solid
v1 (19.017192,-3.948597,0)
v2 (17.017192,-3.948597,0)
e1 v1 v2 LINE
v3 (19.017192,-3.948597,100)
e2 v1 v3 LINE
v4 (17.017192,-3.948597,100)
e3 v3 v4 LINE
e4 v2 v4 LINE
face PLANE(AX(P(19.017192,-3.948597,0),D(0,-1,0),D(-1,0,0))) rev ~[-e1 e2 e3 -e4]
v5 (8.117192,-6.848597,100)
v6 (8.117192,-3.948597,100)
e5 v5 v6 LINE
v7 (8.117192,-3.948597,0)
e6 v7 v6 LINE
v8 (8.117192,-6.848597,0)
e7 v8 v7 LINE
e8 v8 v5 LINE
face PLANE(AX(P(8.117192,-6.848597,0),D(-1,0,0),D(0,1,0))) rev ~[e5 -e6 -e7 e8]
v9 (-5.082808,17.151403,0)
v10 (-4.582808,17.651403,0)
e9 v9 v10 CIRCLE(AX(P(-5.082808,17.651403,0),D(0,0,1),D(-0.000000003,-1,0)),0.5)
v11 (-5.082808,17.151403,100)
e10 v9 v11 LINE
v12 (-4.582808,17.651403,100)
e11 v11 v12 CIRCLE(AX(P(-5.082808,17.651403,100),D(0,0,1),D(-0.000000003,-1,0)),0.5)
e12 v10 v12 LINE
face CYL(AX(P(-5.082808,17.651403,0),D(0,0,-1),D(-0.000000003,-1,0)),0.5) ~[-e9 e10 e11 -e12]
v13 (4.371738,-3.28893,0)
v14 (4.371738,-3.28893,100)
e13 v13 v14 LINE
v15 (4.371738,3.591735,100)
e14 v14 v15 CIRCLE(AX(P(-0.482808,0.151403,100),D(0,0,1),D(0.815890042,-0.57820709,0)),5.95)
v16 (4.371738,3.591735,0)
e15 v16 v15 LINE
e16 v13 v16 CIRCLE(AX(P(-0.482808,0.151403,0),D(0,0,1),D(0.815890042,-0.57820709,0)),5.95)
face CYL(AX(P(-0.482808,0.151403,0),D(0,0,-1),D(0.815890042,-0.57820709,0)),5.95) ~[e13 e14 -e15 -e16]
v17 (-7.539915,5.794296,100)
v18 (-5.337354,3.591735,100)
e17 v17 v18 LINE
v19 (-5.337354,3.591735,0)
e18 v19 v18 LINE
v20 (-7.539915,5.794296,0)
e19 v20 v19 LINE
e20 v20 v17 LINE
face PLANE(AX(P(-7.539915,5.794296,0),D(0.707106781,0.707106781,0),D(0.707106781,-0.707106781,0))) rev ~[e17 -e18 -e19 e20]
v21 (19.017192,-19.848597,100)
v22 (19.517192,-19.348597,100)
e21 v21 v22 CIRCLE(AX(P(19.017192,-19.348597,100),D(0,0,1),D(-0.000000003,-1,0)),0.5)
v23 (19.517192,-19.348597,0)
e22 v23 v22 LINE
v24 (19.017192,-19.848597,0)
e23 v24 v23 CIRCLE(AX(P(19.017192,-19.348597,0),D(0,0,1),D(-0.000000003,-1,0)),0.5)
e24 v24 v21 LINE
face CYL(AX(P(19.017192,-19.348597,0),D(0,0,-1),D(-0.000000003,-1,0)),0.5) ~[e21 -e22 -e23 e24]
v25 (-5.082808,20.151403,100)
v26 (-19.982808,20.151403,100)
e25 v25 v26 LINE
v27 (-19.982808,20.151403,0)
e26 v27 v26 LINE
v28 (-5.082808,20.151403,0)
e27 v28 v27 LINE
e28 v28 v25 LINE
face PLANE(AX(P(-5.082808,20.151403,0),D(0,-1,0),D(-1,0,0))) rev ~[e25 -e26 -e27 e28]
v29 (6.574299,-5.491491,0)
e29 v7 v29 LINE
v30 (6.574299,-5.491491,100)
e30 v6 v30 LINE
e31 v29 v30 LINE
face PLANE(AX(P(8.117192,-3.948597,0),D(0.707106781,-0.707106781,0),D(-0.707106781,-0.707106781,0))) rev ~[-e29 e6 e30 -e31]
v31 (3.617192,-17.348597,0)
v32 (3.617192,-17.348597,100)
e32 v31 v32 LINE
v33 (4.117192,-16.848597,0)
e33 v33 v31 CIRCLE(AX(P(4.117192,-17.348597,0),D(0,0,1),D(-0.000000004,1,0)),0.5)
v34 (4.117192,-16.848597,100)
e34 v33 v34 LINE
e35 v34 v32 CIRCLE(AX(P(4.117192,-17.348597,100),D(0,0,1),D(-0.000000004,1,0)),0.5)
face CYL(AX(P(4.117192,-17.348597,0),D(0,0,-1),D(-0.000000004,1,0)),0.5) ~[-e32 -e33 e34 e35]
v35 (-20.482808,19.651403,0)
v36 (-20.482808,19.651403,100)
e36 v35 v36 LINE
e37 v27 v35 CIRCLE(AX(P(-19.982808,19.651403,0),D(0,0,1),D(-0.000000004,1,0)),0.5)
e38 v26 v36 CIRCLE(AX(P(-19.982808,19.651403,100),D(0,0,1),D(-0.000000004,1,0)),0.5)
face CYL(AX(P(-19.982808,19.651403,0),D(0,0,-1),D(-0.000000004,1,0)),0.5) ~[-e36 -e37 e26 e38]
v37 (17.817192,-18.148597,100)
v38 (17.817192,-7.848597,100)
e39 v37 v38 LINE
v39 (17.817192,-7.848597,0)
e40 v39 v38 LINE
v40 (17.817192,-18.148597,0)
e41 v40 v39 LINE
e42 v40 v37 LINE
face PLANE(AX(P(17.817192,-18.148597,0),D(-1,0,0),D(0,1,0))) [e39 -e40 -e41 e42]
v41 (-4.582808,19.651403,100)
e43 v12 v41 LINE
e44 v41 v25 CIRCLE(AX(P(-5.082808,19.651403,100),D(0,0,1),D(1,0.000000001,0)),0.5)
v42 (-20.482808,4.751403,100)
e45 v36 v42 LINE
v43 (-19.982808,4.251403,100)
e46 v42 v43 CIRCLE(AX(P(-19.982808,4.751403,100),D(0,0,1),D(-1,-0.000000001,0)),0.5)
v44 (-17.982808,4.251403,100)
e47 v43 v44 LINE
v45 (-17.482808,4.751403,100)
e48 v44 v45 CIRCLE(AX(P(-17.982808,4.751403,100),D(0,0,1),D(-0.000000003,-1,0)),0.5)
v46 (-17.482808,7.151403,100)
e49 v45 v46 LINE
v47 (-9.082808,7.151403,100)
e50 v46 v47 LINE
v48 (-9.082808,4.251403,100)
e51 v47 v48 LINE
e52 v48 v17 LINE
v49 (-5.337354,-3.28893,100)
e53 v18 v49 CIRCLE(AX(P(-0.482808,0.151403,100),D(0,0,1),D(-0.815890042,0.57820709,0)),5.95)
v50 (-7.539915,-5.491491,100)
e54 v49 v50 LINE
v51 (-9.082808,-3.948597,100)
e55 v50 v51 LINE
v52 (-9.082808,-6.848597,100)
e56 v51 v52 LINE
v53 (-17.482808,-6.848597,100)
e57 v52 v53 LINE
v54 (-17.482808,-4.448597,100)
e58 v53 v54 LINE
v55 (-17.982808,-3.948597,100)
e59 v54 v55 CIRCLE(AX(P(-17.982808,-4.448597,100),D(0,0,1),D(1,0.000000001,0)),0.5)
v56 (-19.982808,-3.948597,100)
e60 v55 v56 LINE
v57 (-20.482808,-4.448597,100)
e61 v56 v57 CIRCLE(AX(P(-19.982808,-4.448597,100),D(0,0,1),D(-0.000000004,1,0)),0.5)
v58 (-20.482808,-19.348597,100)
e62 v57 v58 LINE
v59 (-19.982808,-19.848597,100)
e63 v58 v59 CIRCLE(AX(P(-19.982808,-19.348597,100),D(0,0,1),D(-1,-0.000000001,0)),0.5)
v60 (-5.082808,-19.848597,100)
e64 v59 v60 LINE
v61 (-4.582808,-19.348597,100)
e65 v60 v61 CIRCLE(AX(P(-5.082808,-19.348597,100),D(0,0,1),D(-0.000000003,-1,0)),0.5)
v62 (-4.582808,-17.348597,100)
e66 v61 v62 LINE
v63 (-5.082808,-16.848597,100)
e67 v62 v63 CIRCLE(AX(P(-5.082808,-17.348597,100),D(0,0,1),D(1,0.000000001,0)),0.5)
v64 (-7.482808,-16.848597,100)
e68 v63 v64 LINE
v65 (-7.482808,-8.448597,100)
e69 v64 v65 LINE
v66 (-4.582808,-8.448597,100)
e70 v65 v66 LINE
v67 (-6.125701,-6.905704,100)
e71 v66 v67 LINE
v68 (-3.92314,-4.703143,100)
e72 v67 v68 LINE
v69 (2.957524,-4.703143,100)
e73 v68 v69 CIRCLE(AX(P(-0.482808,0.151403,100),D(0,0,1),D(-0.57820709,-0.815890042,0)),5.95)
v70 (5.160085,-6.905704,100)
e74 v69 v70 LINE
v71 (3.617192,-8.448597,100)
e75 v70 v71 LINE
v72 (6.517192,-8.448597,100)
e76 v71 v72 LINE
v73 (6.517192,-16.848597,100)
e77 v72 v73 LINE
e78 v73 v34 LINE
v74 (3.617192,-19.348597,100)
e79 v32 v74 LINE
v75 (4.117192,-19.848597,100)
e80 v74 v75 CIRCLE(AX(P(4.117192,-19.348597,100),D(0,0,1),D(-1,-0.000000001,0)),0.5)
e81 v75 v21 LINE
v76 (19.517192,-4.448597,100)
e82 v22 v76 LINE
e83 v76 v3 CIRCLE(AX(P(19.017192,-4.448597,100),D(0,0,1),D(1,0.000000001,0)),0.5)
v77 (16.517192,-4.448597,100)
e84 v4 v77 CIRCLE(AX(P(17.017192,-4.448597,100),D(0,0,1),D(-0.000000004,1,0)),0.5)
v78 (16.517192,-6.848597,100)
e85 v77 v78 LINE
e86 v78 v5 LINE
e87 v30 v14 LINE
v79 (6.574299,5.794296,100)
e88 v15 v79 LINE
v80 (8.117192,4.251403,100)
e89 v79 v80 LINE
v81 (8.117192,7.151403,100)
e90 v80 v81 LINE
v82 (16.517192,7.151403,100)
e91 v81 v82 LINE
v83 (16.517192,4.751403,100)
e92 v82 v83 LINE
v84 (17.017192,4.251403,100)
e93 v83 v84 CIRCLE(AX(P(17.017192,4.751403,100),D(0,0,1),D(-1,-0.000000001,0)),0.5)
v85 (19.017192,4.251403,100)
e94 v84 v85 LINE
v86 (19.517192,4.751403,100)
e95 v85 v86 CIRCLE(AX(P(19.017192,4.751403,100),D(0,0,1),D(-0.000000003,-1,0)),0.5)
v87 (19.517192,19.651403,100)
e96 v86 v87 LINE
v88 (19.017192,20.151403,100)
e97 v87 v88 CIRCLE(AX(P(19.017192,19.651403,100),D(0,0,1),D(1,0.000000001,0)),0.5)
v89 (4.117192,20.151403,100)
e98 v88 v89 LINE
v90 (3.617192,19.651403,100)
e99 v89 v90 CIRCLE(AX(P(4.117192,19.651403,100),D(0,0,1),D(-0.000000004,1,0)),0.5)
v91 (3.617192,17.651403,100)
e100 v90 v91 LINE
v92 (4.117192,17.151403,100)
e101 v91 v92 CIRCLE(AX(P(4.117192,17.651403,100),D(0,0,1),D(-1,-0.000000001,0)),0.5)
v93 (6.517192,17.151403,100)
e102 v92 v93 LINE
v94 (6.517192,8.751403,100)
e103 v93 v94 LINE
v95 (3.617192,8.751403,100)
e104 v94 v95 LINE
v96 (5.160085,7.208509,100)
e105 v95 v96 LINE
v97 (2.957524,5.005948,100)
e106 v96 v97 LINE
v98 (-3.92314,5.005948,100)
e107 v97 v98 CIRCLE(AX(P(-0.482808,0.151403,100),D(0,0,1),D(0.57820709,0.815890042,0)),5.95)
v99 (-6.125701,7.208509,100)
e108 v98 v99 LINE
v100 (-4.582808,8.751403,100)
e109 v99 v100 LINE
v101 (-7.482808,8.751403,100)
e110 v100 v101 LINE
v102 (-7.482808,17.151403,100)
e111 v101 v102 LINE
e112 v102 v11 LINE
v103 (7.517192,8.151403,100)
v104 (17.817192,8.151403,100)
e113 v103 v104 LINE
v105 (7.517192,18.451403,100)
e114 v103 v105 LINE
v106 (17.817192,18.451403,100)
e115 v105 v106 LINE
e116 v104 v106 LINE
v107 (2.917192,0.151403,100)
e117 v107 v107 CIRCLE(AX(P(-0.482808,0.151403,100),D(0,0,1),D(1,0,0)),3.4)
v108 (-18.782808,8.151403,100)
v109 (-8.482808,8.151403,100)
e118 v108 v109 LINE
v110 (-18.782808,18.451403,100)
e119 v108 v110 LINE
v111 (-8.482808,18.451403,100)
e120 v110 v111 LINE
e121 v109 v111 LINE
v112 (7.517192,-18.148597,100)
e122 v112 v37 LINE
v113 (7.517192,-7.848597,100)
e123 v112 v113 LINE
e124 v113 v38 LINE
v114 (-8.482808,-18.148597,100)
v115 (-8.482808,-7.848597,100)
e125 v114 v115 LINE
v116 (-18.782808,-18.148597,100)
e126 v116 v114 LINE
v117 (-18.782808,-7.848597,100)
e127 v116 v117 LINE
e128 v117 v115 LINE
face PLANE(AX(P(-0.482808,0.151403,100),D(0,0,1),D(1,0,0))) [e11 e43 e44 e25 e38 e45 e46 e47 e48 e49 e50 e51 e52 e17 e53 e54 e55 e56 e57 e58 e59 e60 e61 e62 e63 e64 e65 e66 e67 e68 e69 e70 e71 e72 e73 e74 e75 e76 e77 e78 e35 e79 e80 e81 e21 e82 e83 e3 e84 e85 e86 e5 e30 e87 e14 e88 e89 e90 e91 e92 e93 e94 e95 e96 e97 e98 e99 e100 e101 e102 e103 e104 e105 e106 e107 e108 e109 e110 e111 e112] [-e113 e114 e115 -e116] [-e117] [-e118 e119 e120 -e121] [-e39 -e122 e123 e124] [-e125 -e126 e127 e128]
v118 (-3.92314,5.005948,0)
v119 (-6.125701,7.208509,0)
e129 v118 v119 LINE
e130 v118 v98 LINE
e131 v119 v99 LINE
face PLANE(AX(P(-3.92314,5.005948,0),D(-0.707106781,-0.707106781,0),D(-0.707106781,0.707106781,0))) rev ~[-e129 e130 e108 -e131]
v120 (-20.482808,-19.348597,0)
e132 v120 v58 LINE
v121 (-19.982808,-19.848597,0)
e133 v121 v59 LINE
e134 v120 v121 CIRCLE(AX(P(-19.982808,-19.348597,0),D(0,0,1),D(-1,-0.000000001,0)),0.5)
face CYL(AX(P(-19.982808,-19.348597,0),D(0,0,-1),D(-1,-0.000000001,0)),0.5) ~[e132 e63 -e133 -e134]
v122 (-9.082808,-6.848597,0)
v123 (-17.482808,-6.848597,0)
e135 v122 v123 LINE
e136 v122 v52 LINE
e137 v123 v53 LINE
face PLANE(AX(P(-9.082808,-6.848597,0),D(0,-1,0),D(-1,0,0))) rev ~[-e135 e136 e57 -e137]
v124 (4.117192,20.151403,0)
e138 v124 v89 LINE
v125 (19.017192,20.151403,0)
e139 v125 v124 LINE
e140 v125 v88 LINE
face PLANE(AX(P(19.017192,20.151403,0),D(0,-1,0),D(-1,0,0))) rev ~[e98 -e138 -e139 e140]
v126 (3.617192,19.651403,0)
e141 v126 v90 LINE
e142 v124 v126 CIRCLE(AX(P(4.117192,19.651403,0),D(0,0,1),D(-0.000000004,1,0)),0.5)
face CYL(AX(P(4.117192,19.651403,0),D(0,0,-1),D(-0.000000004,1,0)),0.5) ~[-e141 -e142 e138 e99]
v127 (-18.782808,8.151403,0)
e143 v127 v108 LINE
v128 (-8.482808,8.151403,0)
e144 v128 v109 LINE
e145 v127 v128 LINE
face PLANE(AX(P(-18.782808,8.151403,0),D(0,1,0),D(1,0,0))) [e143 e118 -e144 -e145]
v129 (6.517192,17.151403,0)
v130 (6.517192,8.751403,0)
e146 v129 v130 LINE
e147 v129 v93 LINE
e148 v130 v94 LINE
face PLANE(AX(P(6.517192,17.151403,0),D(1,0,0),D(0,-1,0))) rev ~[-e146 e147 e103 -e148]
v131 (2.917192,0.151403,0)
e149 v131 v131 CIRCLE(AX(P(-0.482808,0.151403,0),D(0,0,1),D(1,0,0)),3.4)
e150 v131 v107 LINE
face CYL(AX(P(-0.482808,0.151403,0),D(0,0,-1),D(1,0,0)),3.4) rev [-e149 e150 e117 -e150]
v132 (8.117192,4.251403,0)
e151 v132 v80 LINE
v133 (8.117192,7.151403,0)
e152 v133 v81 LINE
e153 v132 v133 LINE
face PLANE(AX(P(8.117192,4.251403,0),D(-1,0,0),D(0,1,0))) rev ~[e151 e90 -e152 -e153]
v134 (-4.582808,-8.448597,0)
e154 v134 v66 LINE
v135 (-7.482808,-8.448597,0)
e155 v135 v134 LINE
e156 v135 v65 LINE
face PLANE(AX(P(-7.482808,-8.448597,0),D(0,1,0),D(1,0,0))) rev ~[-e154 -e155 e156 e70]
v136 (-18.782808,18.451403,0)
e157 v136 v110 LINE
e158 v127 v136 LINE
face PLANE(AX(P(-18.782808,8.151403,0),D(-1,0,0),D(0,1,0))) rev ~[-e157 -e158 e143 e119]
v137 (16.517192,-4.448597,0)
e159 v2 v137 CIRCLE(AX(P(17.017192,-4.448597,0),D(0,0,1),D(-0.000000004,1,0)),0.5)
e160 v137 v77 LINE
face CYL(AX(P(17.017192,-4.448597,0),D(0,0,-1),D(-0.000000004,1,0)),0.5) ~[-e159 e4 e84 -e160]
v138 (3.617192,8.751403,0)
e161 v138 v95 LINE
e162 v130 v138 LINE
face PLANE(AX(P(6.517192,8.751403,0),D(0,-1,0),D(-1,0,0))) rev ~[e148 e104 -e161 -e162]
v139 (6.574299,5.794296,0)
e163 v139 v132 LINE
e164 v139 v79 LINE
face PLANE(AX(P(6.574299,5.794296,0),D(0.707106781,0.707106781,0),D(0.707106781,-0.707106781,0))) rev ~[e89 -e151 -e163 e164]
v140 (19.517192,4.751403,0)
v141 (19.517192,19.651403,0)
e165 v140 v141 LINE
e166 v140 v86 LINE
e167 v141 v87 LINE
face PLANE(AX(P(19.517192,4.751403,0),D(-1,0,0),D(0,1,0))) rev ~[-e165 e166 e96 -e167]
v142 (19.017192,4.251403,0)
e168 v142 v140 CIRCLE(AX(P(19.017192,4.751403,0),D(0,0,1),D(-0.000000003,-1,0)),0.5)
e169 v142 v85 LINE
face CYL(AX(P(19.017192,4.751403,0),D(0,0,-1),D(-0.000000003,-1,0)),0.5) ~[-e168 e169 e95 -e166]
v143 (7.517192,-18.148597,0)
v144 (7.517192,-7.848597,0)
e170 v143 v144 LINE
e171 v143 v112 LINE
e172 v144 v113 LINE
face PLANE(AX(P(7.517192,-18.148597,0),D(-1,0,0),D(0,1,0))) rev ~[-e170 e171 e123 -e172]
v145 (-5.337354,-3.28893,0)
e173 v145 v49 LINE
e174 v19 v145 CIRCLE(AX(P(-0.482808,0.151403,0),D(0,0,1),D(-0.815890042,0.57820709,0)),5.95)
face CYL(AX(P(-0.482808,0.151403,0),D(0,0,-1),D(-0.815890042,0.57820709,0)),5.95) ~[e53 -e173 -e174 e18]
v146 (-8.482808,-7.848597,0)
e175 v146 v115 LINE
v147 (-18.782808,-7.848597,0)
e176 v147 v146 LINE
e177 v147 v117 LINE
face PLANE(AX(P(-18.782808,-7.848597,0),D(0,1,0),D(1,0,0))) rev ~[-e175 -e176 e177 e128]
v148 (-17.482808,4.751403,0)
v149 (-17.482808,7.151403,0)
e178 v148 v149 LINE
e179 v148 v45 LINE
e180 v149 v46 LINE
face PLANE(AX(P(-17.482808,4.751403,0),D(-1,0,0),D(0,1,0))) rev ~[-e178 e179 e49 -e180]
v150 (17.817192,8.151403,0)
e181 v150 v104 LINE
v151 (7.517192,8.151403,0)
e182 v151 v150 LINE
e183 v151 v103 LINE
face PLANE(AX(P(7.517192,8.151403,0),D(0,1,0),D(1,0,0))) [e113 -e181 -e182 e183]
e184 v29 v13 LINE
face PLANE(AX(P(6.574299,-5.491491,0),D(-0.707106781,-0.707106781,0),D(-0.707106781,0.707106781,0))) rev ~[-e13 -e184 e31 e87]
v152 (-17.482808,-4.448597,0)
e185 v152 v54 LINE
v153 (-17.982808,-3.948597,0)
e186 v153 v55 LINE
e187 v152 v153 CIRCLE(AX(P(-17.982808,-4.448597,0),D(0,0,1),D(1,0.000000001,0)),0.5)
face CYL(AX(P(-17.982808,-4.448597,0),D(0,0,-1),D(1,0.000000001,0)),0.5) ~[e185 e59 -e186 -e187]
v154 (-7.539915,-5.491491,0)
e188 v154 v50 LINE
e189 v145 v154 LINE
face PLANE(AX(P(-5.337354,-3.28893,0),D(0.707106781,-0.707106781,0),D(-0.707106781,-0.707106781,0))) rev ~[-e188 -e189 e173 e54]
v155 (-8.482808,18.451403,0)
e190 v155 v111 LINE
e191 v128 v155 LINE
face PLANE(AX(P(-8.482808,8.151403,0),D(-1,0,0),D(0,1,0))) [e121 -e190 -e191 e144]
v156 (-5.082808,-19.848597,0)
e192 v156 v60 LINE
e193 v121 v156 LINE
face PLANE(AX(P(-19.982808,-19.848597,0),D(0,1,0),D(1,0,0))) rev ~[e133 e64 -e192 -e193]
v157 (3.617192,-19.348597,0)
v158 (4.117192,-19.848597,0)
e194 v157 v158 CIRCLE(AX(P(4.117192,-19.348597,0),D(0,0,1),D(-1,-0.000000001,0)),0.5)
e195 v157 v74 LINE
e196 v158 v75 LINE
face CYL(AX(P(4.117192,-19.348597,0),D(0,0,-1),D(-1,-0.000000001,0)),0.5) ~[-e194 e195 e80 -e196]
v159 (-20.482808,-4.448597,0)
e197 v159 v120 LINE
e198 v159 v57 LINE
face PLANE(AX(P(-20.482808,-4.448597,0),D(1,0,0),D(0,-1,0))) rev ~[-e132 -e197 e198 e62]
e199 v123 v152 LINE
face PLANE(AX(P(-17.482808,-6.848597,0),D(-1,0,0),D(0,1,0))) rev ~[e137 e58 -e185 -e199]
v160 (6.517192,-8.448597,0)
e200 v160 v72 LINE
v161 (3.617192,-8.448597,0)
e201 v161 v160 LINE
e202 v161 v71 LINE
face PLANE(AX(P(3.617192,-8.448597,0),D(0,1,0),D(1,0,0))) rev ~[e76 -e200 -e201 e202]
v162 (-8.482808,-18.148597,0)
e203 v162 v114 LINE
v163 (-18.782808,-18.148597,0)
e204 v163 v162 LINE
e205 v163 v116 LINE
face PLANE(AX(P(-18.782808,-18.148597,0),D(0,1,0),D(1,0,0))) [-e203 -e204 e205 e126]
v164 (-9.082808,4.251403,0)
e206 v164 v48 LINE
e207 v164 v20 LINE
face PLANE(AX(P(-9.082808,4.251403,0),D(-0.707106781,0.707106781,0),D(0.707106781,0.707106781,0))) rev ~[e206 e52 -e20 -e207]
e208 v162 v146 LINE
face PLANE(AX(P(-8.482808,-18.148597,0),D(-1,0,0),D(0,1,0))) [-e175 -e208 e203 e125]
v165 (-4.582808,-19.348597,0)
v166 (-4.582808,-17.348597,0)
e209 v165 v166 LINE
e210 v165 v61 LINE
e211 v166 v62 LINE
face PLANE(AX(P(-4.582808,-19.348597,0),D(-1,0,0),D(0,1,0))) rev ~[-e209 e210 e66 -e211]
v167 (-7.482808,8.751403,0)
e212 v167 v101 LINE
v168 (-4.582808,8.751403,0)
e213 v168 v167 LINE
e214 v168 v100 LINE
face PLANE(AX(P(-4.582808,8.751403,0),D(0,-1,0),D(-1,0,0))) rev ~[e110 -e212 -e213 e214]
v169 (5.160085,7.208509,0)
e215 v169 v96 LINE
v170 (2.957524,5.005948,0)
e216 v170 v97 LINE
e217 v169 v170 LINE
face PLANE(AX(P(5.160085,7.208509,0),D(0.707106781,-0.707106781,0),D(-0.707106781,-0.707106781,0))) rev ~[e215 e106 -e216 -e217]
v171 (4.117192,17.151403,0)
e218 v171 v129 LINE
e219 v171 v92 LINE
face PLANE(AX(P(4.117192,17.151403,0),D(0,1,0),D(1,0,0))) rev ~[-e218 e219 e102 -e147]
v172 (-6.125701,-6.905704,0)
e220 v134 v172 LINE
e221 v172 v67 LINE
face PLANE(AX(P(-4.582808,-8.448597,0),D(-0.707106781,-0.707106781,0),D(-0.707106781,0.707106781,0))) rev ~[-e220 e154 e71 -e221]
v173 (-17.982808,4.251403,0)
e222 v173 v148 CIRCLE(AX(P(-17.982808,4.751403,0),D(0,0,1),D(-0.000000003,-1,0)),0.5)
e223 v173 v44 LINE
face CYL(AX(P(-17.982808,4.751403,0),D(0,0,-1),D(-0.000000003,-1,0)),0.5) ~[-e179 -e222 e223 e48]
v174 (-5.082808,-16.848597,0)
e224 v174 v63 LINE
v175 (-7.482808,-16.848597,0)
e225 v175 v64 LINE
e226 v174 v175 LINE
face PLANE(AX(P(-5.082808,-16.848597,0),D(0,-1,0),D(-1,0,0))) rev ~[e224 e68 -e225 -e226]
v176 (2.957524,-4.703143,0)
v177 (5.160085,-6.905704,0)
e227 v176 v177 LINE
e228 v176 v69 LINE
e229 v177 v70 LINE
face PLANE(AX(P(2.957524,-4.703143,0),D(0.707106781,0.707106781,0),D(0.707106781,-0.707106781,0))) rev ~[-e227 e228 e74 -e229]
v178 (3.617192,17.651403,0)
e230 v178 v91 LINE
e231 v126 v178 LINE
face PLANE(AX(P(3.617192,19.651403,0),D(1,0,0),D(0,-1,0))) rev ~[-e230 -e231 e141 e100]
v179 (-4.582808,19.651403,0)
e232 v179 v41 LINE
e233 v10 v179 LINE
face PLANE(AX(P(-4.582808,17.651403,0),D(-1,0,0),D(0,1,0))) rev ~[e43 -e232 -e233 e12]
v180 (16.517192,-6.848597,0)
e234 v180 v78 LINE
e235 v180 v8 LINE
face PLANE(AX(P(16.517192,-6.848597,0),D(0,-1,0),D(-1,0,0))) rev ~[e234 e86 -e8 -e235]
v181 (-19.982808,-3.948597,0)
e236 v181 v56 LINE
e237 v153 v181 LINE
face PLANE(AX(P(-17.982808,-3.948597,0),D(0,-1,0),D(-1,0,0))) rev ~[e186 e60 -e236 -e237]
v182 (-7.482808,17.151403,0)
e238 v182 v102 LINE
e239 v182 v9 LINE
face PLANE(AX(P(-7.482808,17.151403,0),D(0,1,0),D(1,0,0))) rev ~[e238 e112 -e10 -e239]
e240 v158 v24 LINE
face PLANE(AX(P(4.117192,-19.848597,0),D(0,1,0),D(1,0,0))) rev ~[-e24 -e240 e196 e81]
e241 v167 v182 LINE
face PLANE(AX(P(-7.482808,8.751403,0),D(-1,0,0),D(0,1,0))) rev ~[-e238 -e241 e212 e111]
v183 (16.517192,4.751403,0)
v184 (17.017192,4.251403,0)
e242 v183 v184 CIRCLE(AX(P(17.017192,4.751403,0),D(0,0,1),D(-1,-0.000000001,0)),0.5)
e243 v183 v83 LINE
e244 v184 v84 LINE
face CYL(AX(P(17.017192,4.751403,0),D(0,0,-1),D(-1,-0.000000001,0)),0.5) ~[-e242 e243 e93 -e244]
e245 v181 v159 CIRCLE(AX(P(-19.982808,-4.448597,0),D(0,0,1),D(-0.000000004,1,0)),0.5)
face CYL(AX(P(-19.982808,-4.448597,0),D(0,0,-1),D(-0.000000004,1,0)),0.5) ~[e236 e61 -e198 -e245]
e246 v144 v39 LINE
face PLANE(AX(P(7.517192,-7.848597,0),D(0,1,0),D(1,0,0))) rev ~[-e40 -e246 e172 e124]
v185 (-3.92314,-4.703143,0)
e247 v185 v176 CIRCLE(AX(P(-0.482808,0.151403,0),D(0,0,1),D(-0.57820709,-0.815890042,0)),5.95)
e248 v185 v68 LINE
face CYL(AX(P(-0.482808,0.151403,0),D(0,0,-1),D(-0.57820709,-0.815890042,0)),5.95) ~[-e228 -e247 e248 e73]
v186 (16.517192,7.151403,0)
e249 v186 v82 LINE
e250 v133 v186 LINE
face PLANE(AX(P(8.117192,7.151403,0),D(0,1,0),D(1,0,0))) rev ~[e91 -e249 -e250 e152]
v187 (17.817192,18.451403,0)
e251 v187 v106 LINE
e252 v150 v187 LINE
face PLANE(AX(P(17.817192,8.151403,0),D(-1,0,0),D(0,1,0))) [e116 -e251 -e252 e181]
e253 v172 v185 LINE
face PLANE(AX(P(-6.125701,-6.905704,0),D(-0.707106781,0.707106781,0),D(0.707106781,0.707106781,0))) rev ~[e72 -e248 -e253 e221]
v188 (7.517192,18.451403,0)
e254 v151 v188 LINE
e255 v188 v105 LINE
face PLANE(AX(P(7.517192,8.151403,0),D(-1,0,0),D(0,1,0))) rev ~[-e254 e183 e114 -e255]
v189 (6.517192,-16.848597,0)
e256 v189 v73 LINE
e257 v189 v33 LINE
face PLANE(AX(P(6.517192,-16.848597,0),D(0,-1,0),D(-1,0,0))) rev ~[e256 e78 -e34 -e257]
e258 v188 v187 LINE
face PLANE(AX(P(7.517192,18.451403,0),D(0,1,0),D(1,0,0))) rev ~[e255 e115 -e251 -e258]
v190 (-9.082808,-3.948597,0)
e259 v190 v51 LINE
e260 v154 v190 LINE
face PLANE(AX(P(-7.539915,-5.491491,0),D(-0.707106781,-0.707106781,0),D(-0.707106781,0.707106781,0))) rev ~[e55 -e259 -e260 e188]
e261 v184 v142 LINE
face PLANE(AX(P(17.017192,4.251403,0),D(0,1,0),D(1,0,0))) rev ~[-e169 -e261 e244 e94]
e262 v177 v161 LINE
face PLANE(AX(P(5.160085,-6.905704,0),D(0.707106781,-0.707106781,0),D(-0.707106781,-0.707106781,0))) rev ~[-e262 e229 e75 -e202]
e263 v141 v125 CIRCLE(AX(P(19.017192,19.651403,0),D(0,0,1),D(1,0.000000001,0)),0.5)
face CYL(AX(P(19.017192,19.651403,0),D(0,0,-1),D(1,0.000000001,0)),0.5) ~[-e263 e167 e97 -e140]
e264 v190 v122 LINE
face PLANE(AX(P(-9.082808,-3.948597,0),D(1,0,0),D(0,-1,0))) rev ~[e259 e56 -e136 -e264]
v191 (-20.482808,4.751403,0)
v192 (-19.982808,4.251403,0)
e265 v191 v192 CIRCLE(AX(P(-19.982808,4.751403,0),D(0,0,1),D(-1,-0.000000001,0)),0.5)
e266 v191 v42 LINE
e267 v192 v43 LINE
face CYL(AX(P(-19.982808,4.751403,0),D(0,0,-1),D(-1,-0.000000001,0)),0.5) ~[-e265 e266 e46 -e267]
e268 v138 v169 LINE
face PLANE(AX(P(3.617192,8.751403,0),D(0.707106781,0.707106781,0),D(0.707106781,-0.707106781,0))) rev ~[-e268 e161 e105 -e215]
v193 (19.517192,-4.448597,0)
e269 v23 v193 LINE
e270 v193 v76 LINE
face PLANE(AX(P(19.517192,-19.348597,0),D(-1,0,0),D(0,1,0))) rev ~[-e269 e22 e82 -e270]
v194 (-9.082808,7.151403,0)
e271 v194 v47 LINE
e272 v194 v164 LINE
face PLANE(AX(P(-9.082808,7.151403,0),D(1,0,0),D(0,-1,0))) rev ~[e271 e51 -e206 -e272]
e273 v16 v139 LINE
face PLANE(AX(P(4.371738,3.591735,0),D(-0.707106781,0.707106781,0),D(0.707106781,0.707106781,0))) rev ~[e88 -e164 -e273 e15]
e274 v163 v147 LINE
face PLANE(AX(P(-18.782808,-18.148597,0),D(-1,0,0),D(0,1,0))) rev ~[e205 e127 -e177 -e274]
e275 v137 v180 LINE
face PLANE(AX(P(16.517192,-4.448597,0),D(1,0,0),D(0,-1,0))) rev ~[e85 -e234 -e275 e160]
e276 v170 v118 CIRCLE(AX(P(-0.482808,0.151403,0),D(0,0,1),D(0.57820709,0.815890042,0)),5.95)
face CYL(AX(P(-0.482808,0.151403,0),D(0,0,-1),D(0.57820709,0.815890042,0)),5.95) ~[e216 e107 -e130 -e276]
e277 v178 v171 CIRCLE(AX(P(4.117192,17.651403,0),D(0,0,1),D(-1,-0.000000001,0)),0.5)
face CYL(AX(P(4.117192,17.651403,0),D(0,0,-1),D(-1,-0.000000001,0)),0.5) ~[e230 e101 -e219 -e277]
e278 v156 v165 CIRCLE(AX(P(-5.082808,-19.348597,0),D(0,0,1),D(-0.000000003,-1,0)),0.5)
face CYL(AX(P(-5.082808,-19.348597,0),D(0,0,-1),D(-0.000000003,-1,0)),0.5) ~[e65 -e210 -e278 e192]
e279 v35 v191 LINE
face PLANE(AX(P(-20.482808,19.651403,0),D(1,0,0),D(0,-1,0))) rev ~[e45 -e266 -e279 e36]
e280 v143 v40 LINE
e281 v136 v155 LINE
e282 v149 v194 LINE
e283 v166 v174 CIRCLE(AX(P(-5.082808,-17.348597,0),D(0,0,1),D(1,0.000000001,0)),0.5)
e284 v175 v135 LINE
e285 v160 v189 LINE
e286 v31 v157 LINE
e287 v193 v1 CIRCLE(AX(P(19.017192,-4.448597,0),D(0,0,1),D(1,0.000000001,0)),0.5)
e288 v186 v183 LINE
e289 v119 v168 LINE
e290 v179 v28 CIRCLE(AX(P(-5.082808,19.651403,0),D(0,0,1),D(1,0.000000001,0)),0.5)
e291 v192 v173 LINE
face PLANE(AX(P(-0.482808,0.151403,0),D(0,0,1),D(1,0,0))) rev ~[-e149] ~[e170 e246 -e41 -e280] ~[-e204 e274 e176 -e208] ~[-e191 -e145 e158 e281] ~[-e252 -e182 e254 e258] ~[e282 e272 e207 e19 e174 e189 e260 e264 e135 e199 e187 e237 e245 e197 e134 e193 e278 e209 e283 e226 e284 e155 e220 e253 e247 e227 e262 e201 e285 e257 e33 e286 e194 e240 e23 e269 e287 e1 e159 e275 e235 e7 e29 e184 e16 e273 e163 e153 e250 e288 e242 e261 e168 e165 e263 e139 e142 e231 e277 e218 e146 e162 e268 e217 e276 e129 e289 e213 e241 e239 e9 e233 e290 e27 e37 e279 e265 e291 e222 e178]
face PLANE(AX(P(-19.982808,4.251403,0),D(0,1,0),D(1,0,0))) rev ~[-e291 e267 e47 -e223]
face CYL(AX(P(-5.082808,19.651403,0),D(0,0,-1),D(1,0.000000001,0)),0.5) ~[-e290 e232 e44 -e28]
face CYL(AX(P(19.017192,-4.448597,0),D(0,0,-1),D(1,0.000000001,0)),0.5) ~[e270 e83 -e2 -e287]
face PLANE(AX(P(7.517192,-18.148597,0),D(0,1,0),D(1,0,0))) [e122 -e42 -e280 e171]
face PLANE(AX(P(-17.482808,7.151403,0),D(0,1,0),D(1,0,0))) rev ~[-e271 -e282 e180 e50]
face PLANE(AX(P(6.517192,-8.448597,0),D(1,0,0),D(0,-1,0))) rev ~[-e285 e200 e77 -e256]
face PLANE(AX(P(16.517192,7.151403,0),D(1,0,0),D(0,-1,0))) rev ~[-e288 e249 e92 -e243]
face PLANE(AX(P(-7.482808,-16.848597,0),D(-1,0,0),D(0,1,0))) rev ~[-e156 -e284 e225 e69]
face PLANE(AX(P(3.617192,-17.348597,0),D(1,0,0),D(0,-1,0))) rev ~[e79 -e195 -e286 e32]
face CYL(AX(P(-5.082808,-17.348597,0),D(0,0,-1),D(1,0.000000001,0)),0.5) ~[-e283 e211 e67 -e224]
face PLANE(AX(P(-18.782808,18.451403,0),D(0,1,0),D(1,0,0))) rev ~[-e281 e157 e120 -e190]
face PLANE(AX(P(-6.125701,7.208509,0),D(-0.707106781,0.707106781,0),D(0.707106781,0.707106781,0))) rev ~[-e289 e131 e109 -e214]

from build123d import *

# Parameters (mm, degrees)
SKETCH_1_R      = 3.4
SKETCH_1_W      = 10.3
SKETCH_1_H      = 10.3
EXTRUDE_1_DEPTH = 100


with BuildPart() as part:
    # 草图1 → 凸台-拉伸1 (new body)
    with BuildSketch(Plane.XY):
        with BuildLine():
            Line((-4.582808051, 8.751402525), (-7.482808051, 8.751402525))
            Line((-7.482808051, 8.751402525), (-7.482808051, 17.151402525))
            Line((-7.482808051, 17.151402525), (-5.082808051, 17.151402525))
            ThreePointArc((-5.082808051, 17.151402525), (-4.72925466, 17.297849134), (-4.582808051, 17.651402525))
            Line((-4.582808051, 17.651402525), (-4.582808051, 19.651402525))
            ThreePointArc((-4.582808051, 19.651402525), (-4.72925466, 20.004955915), (-5.082808051, 20.151402525))
            Line((-5.082808051, 20.151402525), (-19.982808051, 20.151402525))
            ThreePointArc((-19.982808051, 20.151402525), (-20.336361441, 20.004955915), (-20.482808051, 19.651402525))
            Line((-20.482808051, 19.651402525), (-20.482808051, 4.751402525))
            ThreePointArc((-20.482808051, 4.751402525), (-20.336361441, 4.397849134), (-19.982808051, 4.251402525))
            Line((-19.982808051, 4.251402525), (-17.982808051, 4.251402525))
            ThreePointArc((-17.982808051, 4.251402525), (-17.62925466, 4.397849134), (-17.482808051, 4.751402525))
            Line((-17.482808051, 4.751402525), (-17.482808051, 7.151402525))
            Line((-17.482808051, 7.151402525), (-9.082808051, 7.151402525))
            Line((-9.082808051, 7.151402525), (-9.082808051, 4.251402525))
            Line((-9.082808051, 4.251402525), (-7.539914832, 5.794295743))
            Line((-7.539914832, 5.794295743), (-5.337353801, 3.591734712))
            ThreePointArc((-5.337353801, 3.591734712), (-6.432808051, 0.151402525), (-5.337353801, -3.288929663))
            Line((-5.337353801, -3.288929663), (-7.539914832, -5.491490694))
            Line((-7.539914832, -5.491490694), (-9.082808051, -3.948597475))
            Line((-9.082808051, -3.948597475), (-9.082808051, -6.848597475))
            Line((-9.082808051, -6.848597475), (-17.482808051, -6.848597475))
            Line((-17.482808051, -6.848597475), (-17.482808051, -4.448597475))
            ThreePointArc((-17.482808051, -4.448597475), (-17.62925466, -4.095044085), (-17.982808051, -3.948597475))
            Line((-17.982808051, -3.948597475), (-19.982808051, -3.948597475))
            ThreePointArc((-19.982808051, -3.948597475), (-20.336361441, -4.095044085), (-20.482808051, -4.448597475))
            Line((-20.482808051, -4.448597475), (-20.482808051, -19.348597475))
            ThreePointArc((-20.482808051, -19.348597475), (-20.336361441, -19.702150866), (-19.982808051, -19.848597475))
            Line((-19.982808051, -19.848597475), (-5.082808051, -19.848597475))
            ThreePointArc((-5.082808051, -19.848597475), (-4.72925466, -19.702150866), (-4.582808051, -19.348597475))
            Line((-4.582808051, -19.348597475), (-4.582808051, -17.348597475))
            ThreePointArc((-4.582808051, -17.348597475), (-4.72925466, -16.995044085), (-5.082808051, -16.848597475))
            Line((-5.082808051, -16.848597475), (-7.482808051, -16.848597475))
            Line((-7.482808051, -16.848597475), (-7.482808051, -8.448597475))
            Line((-7.482808051, -8.448597475), (-4.582808051, -8.448597475))
            Line((-4.582808051, -8.448597475), (-6.125701269, -6.905704257))
            Line((-6.125701269, -6.905704257), (-3.923140238, -4.703143225))
            ThreePointArc((-3.923140238, -4.703143225), (-0.482808051, -5.798597475), (2.957524137, -4.703143225))
            Line((2.957524137, -4.703143225), (5.160085168, -6.905704257))
            Line((5.160085168, -6.905704257), (3.617191949, -8.448597475))
            Line((3.617191949, -8.448597475), (6.517191949, -8.448597475))
            Line((6.517191949, -8.448597475), (6.517191949, -16.848597475))
            Line((6.517191949, -16.848597475), (4.117191949, -16.848597475))
            ThreePointArc((4.117191949, -16.848597475), (3.763638559, -16.995044085), (3.617191949, -17.348597475))
            Line((3.617191949, -17.348597475), (3.617191949, -19.348597475))
            ThreePointArc((3.617191949, -19.348597475), (3.763638559, -19.702150866), (4.117191949, -19.848597475))
            Line((4.117191949, -19.848597475), (19.017191949, -19.848597475))
            ThreePointArc((19.017191949, -19.848597475), (19.37074534, -19.702150866), (19.517191949, -19.348597475))
            Line((19.517191949, -19.348597475), (19.517191949, -4.448597475))
            ThreePointArc((19.517191949, -4.448597475), (19.37074534, -4.095044085), (19.017191949, -3.948597475))
            Line((19.017191949, -3.948597475), (17.017191949, -3.948597475))
            ThreePointArc((17.017191949, -3.948597475), (16.663638559, -4.095044085), (16.517191949, -4.448597475))
            Line((16.517191949, -4.448597475), (16.517191949, -6.848597475))
            Line((16.517191949, -6.848597475), (8.117191949, -6.848597475))
            Line((8.117191949, -6.848597475), (8.117191949, -3.948597475))
            Line((8.117191949, -3.948597475), (6.574298731, -5.491490694))
            Line((6.574298731, -5.491490694), (4.371737699, -3.288929663))
            ThreePointArc((4.371737699, -3.288929663), (5.467191949, 0.151402525), (4.371737699, 3.591734712))
            Line((4.371737699, 3.591734712), (6.574298731, 5.794295743))
            Line((6.574298731, 5.794295743), (8.117191949, 4.251402525))
            Line((8.117191949, 4.251402525), (8.117191949, 7.151402525))
            Line((8.117191949, 7.151402525), (16.517191949, 7.151402525))
            Line((16.517191949, 7.151402525), (16.517191949, 4.751402525))
            ThreePointArc((16.517191949, 4.751402525), (16.663638559, 4.397849134), (17.017191949, 4.251402525))
            Line((17.017191949, 4.251402525), (19.017191949, 4.251402525))
            ThreePointArc((19.017191949, 4.251402525), (19.37074534, 4.397849134), (19.517191949, 4.751402525))
            Line((19.517191949, 4.751402525), (19.517191949, 19.651402525))
            ThreePointArc((19.517191949, 19.651402525), (19.37074534, 20.004955915), (19.017191949, 20.151402525))
            Line((19.017191949, 20.151402525), (4.117191949, 20.151402525))
            ThreePointArc((4.117191949, 20.151402525), (3.763638559, 20.004955915), (3.617191949, 19.651402525))
            Line((3.617191949, 19.651402525), (3.617191949, 17.651402525))
            ThreePointArc((3.617191949, 17.651402525), (3.763638559, 17.297849134), (4.117191949, 17.151402525))
            Line((4.117191949, 17.151402525), (6.517191949, 17.151402525))
            Line((6.517191949, 17.151402525), (6.517191949, 8.751402525))
            Line((6.517191949, 8.751402525), (3.617191949, 8.751402525))
            Line((3.617191949, 8.751402525), (5.160085168, 7.208509306))
            Line((5.160085168, 7.208509306), (2.957524137, 5.005948275))
            ThreePointArc((2.957524137, 5.005948275), (-0.482808051, 6.101402525), (-3.923140238, 5.005948275))
            Line((-3.923140238, 5.005948275), (-6.125701269, 7.208509306))
            Line((-6.125701269, 7.208509306), (-4.582808051, 8.751402525))
        make_face()
        with Locations((-0.482808051, 0.151402525)):
            Circle(SKETCH_1_R, mode=Mode.SUBTRACT)
        with Locations((-13.632808051, 13.301402525)):
            Rectangle(SKETCH_1_W, SKETCH_1_H, mode=Mode.SUBTRACT)
        with Locations((12.667191949, 13.301402525)):
            Rectangle(SKETCH_1_W, SKETCH_1_H, mode=Mode.SUBTRACT)
        with Locations((-13.632808051, -12.998597475)):
            Rectangle(SKETCH_1_W, SKETCH_1_H, mode=Mode.SUBTRACT)
        with Locations((12.667191949, -12.998597475)):
            Rectangle(SKETCH_1_W, SKETCH_1_H, mode=Mode.SUBTRACT)
    extrude(amount=EXTRUDE_1_DEPTH)


solid = part.part
